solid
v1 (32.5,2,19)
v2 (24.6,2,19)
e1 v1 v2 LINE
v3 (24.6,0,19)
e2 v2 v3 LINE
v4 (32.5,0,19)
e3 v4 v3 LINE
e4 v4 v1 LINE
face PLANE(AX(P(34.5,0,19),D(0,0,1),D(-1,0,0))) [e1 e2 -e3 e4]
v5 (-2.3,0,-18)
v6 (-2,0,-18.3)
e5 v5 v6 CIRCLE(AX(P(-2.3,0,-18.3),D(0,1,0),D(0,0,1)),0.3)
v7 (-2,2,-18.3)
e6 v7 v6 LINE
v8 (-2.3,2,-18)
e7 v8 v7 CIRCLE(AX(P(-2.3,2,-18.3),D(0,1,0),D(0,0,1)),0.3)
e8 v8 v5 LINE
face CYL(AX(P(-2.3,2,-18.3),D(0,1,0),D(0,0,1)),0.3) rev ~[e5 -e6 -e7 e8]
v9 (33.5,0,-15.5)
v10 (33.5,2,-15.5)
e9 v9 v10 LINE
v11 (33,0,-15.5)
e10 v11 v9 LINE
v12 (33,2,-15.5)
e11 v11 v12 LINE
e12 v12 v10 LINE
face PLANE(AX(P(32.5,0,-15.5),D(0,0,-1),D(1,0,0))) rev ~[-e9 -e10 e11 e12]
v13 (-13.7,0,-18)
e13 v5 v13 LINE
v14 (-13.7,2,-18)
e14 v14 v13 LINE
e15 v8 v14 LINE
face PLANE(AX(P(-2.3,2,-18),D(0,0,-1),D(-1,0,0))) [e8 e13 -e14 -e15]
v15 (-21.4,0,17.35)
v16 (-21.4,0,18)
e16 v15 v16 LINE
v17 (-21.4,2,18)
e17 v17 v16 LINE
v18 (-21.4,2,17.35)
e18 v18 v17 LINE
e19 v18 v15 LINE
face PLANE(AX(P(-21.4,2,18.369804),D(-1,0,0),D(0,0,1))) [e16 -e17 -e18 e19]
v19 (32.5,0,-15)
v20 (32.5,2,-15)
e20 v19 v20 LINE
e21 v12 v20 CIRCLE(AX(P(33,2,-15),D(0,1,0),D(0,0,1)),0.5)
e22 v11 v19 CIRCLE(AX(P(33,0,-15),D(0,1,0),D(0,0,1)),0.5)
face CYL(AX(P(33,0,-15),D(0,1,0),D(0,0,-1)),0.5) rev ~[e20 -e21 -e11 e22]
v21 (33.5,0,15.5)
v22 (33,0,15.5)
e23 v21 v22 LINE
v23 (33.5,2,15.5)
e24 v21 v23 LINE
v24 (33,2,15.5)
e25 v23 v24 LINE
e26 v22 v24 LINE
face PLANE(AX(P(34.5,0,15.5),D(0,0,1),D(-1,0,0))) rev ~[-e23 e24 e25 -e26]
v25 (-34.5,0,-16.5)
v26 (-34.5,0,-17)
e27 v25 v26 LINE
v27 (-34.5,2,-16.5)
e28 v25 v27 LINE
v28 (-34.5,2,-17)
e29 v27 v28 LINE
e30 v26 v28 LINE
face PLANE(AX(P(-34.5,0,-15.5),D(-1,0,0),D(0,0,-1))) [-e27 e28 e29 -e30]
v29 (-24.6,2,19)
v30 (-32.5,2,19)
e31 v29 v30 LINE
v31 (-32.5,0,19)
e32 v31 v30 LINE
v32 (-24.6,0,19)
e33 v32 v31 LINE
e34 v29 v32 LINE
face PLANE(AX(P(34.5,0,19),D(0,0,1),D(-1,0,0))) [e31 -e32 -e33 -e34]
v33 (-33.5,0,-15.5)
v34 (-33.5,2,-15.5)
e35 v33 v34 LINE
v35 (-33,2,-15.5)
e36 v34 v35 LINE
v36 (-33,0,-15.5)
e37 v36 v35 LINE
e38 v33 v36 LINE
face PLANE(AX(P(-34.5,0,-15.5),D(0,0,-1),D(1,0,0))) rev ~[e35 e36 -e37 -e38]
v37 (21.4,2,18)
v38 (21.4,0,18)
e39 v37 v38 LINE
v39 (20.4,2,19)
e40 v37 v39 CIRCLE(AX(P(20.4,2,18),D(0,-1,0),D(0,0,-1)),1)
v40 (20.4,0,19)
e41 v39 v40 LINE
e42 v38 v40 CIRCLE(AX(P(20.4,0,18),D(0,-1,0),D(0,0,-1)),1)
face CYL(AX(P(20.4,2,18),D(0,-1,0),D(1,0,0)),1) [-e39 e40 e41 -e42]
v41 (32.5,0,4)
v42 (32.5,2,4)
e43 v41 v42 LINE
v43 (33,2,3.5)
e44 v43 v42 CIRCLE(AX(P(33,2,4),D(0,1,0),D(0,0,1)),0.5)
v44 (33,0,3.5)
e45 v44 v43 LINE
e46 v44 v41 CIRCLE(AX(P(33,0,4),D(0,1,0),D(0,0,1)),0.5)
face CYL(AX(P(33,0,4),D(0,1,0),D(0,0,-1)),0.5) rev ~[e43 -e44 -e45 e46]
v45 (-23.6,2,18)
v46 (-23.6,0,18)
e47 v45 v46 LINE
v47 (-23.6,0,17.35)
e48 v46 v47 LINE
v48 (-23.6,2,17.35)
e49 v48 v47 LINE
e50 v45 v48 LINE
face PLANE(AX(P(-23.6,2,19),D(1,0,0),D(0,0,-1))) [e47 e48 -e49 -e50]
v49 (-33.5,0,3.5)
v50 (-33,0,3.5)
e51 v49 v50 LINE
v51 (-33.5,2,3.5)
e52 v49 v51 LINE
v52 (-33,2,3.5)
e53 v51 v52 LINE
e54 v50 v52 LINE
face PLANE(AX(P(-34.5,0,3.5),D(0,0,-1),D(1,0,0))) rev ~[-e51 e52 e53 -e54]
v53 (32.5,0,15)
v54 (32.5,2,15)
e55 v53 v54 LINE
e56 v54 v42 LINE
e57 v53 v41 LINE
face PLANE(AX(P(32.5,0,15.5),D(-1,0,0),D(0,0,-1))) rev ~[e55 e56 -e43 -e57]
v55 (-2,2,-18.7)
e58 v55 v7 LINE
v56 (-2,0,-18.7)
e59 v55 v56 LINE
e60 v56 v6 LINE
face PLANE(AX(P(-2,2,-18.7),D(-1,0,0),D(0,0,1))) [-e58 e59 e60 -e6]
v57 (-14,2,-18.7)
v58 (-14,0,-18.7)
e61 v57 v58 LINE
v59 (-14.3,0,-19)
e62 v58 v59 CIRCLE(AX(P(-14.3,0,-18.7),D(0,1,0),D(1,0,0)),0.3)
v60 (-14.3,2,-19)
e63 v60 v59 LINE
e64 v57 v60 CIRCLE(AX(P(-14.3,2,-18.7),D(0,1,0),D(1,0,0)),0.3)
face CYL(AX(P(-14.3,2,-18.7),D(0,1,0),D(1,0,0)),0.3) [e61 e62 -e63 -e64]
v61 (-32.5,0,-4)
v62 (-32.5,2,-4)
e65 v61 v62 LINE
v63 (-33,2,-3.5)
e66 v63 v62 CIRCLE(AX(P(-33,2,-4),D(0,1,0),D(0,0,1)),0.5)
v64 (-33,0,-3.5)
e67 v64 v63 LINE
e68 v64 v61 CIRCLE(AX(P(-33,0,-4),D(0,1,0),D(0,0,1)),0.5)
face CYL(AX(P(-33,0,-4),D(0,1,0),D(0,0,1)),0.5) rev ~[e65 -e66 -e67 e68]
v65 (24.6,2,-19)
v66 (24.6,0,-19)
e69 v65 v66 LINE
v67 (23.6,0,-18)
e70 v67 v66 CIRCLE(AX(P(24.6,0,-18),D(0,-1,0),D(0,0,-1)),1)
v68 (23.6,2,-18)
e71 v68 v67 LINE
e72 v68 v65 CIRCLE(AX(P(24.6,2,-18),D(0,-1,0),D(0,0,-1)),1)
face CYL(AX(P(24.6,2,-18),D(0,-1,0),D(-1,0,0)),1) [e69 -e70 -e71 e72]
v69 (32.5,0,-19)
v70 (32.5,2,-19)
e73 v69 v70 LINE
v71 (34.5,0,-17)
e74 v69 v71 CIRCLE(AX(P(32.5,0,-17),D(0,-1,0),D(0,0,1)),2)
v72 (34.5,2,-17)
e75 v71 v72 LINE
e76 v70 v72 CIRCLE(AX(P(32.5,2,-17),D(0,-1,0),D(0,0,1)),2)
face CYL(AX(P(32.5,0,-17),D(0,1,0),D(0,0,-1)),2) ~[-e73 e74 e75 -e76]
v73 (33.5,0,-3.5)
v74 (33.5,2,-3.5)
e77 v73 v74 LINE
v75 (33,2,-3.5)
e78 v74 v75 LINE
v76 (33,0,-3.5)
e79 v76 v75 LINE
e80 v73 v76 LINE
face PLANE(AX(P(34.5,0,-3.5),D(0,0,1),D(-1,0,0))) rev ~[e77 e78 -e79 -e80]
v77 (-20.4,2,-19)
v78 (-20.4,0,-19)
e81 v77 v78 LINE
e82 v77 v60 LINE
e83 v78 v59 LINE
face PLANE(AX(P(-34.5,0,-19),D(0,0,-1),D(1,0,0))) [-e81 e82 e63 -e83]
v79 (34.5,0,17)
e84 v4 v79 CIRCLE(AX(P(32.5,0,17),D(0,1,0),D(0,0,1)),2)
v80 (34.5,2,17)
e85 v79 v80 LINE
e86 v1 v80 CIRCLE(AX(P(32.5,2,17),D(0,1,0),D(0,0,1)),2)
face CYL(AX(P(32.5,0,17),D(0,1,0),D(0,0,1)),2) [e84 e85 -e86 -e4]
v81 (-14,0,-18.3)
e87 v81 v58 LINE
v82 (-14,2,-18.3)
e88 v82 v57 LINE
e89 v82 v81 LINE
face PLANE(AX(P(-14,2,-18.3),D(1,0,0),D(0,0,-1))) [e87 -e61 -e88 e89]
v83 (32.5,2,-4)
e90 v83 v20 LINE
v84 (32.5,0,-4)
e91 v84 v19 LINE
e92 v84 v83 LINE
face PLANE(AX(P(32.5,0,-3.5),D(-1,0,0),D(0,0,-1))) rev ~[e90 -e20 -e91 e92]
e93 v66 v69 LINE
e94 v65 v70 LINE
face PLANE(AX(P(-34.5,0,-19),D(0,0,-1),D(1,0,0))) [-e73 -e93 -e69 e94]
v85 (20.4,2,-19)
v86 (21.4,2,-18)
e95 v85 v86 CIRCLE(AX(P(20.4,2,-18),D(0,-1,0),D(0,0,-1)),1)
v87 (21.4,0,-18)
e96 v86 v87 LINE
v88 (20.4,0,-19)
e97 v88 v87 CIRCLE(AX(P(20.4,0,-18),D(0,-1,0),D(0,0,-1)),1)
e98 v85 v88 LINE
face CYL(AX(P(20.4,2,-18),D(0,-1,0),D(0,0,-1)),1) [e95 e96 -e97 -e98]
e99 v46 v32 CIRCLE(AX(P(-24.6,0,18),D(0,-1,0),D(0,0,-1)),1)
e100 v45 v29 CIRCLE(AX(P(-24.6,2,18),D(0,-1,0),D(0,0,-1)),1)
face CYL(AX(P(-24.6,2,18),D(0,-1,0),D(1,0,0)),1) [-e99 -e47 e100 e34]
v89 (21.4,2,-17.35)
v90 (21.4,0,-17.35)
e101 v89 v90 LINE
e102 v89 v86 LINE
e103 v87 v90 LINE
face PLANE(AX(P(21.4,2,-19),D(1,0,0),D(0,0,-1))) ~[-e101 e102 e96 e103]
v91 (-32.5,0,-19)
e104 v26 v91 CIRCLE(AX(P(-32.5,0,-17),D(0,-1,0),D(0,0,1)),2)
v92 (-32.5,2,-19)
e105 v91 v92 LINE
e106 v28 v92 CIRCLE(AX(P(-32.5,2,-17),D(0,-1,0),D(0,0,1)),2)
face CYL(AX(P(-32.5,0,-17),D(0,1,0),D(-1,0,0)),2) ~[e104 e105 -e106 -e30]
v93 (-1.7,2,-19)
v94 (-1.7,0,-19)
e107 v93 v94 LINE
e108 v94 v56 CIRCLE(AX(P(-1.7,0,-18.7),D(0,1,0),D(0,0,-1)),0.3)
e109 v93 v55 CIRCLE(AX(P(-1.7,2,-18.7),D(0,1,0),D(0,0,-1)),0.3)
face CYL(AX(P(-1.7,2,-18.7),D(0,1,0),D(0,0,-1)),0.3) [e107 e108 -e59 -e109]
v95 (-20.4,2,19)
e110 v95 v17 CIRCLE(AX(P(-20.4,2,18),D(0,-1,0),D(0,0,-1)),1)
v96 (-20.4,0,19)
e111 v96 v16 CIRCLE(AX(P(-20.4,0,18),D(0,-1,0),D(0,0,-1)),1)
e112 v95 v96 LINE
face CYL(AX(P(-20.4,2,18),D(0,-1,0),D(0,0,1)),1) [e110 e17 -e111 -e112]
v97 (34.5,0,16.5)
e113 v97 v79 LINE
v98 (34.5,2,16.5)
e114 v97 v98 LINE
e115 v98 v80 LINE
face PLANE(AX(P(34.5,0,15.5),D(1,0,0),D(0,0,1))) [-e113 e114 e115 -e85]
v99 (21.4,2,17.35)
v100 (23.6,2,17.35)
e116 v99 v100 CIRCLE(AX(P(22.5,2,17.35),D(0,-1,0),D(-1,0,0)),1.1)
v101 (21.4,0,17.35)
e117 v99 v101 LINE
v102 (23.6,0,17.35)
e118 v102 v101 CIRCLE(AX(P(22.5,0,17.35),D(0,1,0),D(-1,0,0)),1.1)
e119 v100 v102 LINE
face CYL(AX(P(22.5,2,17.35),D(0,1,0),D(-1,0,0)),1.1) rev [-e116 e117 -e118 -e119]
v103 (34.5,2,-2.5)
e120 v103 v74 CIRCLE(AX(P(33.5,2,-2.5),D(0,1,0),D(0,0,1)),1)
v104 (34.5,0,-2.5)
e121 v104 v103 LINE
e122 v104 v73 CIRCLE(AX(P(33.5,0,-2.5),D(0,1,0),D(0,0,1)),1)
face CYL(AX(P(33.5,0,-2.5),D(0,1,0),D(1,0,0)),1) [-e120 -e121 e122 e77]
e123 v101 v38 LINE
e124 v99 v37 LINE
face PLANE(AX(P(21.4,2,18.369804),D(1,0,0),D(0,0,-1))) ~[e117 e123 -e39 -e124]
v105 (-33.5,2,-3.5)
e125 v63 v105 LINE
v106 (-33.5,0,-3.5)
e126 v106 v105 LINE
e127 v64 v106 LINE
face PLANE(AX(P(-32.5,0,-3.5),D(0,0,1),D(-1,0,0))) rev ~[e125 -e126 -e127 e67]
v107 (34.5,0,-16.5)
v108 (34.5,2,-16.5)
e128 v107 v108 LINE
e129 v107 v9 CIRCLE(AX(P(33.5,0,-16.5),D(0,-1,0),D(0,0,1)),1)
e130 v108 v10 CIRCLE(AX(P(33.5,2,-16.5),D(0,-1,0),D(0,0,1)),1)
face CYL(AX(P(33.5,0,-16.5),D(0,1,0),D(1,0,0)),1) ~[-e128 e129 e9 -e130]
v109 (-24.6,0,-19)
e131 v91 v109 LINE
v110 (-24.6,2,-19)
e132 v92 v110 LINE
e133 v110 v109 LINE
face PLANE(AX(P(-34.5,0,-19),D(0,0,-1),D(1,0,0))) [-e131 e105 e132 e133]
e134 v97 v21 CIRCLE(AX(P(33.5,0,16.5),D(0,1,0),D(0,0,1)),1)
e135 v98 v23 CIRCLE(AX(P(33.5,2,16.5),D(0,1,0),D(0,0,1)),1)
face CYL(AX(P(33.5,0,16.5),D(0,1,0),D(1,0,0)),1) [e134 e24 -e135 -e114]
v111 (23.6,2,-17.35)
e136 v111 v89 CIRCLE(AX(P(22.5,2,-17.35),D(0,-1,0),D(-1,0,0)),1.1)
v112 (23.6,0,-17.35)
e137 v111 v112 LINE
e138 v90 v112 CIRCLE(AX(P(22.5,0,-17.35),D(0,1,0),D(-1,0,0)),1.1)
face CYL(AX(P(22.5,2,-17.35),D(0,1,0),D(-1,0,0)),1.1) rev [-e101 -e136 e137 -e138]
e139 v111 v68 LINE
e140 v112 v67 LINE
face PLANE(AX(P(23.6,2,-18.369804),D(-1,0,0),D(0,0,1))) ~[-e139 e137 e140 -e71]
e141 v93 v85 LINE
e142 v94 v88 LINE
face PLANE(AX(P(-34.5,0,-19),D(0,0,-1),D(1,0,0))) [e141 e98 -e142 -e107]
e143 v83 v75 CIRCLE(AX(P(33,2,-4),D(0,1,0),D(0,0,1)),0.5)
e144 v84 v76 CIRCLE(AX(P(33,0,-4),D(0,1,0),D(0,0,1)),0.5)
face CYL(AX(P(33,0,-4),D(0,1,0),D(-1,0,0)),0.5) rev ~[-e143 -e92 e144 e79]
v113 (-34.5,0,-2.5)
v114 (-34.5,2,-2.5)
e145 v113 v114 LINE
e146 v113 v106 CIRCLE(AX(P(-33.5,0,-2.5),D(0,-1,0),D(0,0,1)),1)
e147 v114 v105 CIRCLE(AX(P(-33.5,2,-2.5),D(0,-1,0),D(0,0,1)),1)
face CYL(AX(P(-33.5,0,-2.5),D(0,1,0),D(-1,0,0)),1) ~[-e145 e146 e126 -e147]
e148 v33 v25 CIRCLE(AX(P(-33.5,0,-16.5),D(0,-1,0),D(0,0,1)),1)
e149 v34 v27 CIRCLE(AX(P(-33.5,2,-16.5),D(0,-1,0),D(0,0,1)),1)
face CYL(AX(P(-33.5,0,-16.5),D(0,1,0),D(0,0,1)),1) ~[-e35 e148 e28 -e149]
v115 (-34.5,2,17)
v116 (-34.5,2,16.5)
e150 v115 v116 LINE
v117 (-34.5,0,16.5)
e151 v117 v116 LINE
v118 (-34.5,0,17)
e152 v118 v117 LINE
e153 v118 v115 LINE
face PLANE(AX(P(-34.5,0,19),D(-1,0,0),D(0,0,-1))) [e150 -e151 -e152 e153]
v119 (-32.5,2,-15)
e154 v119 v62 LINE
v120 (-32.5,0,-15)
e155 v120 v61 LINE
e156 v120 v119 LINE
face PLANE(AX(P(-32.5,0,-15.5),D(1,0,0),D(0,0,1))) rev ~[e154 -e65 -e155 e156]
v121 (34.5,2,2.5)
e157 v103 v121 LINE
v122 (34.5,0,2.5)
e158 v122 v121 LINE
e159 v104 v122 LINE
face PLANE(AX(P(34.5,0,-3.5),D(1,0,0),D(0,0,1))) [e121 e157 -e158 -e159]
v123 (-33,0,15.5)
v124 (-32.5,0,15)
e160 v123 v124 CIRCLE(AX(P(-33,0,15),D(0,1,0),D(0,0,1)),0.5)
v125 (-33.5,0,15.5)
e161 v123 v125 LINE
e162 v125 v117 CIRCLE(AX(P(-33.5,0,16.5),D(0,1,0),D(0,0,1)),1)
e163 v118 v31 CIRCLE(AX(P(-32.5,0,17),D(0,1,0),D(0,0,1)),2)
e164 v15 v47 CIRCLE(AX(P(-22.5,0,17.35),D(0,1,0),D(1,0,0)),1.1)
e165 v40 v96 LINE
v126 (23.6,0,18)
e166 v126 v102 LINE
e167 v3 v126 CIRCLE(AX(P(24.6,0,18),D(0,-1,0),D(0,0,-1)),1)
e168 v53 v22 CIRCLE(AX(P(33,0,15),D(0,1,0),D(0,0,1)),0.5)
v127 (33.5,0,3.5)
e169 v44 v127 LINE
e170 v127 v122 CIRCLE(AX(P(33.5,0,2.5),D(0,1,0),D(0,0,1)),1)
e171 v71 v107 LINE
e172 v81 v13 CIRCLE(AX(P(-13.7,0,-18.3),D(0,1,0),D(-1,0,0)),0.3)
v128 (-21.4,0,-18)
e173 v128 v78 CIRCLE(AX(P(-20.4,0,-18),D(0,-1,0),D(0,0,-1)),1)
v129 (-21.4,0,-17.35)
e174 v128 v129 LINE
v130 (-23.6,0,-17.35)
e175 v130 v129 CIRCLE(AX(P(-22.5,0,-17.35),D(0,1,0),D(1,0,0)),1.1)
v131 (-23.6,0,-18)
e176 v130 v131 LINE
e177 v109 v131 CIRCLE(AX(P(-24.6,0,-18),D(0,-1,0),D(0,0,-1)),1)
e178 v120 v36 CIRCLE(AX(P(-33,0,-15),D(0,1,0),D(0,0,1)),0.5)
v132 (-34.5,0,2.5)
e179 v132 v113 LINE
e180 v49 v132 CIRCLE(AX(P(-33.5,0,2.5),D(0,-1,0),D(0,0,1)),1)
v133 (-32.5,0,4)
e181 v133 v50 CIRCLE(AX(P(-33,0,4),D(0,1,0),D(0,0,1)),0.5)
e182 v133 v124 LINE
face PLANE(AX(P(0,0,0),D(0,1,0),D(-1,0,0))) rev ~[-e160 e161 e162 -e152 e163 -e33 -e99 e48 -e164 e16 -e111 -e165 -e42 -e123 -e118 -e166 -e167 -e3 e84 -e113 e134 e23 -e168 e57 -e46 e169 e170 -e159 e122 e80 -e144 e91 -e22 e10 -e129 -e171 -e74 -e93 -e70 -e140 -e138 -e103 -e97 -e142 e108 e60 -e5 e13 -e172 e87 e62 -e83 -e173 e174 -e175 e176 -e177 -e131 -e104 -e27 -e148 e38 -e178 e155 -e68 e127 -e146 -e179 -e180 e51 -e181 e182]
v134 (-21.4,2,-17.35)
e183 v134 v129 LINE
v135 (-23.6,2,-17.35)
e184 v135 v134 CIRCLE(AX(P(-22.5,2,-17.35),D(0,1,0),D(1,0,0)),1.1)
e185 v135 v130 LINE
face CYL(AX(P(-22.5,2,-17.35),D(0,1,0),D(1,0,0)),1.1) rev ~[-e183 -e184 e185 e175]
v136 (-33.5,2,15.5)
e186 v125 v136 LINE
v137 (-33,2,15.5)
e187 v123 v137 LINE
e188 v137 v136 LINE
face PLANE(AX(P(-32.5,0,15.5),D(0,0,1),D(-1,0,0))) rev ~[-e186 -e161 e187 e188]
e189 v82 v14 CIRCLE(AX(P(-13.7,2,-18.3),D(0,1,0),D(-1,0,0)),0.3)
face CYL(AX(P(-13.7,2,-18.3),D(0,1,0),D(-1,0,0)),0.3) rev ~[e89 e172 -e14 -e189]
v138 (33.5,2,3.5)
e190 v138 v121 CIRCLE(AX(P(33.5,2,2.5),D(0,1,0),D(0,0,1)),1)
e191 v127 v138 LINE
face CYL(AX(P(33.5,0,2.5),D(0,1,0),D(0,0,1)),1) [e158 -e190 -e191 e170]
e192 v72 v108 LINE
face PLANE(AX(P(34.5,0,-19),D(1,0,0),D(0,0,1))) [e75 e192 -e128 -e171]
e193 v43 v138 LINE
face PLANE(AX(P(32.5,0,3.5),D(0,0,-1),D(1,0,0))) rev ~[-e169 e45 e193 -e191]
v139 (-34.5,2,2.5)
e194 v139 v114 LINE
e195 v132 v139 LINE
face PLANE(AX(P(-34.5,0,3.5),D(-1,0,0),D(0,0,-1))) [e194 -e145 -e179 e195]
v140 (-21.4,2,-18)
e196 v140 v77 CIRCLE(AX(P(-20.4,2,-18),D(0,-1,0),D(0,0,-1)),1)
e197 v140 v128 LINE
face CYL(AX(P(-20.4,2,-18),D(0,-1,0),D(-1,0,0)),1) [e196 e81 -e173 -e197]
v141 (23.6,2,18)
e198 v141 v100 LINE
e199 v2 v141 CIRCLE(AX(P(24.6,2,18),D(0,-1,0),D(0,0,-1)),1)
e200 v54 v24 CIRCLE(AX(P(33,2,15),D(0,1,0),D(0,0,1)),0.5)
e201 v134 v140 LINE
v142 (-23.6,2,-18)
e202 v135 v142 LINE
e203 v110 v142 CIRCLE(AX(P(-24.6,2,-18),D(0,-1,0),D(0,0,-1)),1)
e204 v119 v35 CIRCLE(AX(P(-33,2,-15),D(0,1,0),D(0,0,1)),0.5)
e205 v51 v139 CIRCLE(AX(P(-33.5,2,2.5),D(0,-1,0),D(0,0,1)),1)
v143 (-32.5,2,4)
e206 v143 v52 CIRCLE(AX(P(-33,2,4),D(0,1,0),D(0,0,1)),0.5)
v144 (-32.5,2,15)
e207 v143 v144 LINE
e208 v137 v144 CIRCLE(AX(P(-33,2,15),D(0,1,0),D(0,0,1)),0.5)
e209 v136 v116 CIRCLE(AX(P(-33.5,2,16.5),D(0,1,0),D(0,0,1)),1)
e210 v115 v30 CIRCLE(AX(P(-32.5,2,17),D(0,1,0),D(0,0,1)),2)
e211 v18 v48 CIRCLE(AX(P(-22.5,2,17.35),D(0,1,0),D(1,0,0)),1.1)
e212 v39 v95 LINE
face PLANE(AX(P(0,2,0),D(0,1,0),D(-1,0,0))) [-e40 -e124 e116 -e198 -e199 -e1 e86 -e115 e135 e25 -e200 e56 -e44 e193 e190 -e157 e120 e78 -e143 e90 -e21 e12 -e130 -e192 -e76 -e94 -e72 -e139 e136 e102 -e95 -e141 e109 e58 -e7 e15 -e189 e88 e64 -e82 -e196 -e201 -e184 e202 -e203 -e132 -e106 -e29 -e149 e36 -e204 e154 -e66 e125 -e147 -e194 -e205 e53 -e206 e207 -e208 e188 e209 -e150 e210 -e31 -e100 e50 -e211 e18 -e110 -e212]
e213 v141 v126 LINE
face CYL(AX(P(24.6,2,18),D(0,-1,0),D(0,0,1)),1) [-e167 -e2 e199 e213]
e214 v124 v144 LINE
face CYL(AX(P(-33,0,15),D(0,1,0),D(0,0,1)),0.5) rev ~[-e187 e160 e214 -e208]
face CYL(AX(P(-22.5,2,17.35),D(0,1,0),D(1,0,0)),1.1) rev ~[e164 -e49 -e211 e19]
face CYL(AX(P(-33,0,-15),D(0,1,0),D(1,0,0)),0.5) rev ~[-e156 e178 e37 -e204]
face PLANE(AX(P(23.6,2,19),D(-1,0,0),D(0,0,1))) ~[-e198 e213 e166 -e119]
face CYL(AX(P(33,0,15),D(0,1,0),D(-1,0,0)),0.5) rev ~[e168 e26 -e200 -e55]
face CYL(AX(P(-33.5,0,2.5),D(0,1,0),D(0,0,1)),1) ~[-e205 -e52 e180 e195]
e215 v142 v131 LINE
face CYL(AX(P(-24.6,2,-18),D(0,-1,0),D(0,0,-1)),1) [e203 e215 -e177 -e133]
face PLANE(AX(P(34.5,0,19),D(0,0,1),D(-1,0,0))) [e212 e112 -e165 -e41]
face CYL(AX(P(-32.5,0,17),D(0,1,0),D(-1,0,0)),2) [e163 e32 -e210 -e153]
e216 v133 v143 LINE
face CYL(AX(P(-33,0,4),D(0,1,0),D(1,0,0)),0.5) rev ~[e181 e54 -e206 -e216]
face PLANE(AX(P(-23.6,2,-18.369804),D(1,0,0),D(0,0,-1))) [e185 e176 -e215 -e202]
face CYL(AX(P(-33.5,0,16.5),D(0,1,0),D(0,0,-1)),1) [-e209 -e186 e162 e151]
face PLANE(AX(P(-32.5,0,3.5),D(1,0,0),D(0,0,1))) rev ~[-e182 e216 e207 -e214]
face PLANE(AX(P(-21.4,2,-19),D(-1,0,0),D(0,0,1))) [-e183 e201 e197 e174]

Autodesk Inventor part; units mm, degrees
ref_plane "YZ Plane" through (0, 0, 0) normal (1, 0, 0) x (0, 1, 0)
ref_plane "XZ Plane" through (0, 0, 0) normal (0, 1, 0) x (-1, 0, 0)
ref_plane "XY Plane" through (0, 0, 0) normal (0, 0, 1) x (1, 0, 0)
sketch "Эскиз1" plane through (0, 0, 0) normal (0, 1, 0) x (-1, 0, 0)
  line L0 (-34.5, 19) -> (34.5, 19)
  line L1 (34.5, 19) -> (34.5, -19)
  line L2 (34.5, -19) -> (-34.5, -19)
  line L3 (-34.5, -19) -> (-34.5, 19)
  line L4 (-34.5, 19) -> (34.5, -19) construction
  line L5 (34.5, 19) -> (-34.5, -19) construction
  line L6 (34.5, -9.5) -> (34.5, 9.5)
  line L7 (36.5, -15.5) -> (32.5, -15.5)
  line L8 (32.5, -15.5) -> (32.5, -3.5)
  line L9 (32.5, -3.5) -> (36.5, -3.5)
  line L10 (36.5, -3.5) -> (36.5, -15.5)
  line L11 (36.5, -15.5) -> (32.5, -3.5) construction
  line L12 (32.5, -15.5) -> (36.5, -3.5) construction
  line L13 (36.5, 3.5) -> (32.5, 3.5)
  line L14 (32.5, 3.5) -> (32.5, 15.5)
  line L15 (32.5, 15.5) -> (36.5, 15.5)
  line L16 (36.5, 15.5) -> (36.5, 3.5)
  line L17 (36.5, 3.5) -> (32.5, 15.5) construction
  line L18 (32.5, 3.5) -> (36.5, 15.5) construction
  line L19 (-34.5, -9.5) -> (-34.5, 9.5)
  line L20 (-32.5, -15.5) -> (-36.5, -15.5)
  line L21 (-36.5, -15.5) -> (-36.5, -3.5)
  line L22 (-36.5, -3.5) -> (-32.5, -3.5)
  line L23 (-32.5, -3.5) -> (-32.5, -15.5)
  line L24 (-32.5, -15.5) -> (-36.5, -3.5) construction
  line L25 (-36.5, -15.5) -> (-32.5, -3.5) construction
  line L26 (-32.5, 3.5) -> (-36.5, 3.5)
  line L27 (-36.5, 3.5) -> (-36.5, 15.5)
  line L28 (-36.5, 15.5) -> (-32.5, 15.5)
  line L29 (-32.5, 15.5) -> (-32.5, 3.5)
  line L30 (-32.5, 3.5) -> (-36.5, 15.5) construction
  line L31 (-36.5, 3.5) -> (-32.5, 15.5) construction
  point P0 (0, 0)
  point P1 (34.5, 0)
  point P2 (-34.5, 0)
  point P3 (-34.5, 15.5)
  point P4 (-34.5, 3.5)
  point P5 (-34.5, -3.5)
  point P6 (-34.5, -15.5)
  point P7 (34.5, -15.5)
  point P8 (34.5, -3.5)
  point P9 (34.5, 3.5)
  point P10 (34.5, 15.5)
  dimension "d0" = 69
  dimension "d1" = 38
  dimension "d4" = 19
  dimension "d5" = 4
  dimension "d6" = 12
  dimension "d7" = 4
  dimension "d8" = 12
  dimension "d9" = 19
  dimension "d10" = 4
  dimension "d11" = 12
  dimension "d12" = 4
  dimension "d13" = 12
extrude "Выдавливание1" add sketch "Эскиз1" along normal blind 2 contours L0 L1 L15 L14 L13 L9 L8 L7 L2 L3 L20 L23 L22 L26 L29 L28
fillet "Сопряжение1" radius 0.5 8 edges at (-32.5, 1, -3.5) (-32.5, 1, -15.5) (-32.5, 1, 3.5) (-32.5, 1, 15.5) (32.5, 1, -15.5) (32.5, 1, -3.5) (32.5, 1, 3.5) (32.5, 1, 15.5)
fillet "Сопряжение2" radius 1 8 edges at (34.5, 1, -3.5) (34.5, 1, 3.5) (34.5, 1, -15.5) (34.5, 1, 15.5) (-34.5, 1, -15.5) (-34.5, 1, -3.5) (-34.5, 1, 3.5) (-34.5, 1, 15.5)
fillet "Сопряжение3" radius 2 4 edges at (-34.5, 1, -19) (-34.5, 1, 19) (34.5, 1, -19) (34.5, 1, 19)
sketch "Эскиз2" plane through (0, 2, 0) normal (0, 1, 0) x (1, 0, 0)
  line L0 (-34.5, -19) -> (34.5, -19)
  line L1 (34.5, -19) -> (34.5, 19)
  line L2 (34.5, 19) -> (-34.5, 19)
  line L3 (-34.5, 19) -> (-34.5, -19)
  line L4 (-34.5, -19) -> (34.5, 19) construction
  line L5 (34.5, -19) -> (-34.5, 19) construction
  line L6 (34.5, -2.5) -> (34.5, 2.5) projected
  line L7 (34.5, 0) -> (19.5, 0)
  line L8 (19.5, 5) -> (19.5, -5)
  line L9 (34.5, -19) -> (4.5, -19)
  line L10 (-32.5, -19) -> (32.5, -19) projected
  line L11 (4.5, -19) -> (4.5, -14)
  point P0 (0, 0)
  dimension "d17" = 69
  dimension "d18" = 38
  dimension "d19" = 15
  dimension "d20" = 10
  dimension "d21" = 30
  dimension "d22" = 5
sketch "Эскиз3" plane through (0, 2, 0) normal (0, 1, 0) x (1, 0, 0)
  arc A0 (32.5, -19) -> (34.5, -17) centre (32.5, -17) ccw projected
  line L0 (34.5, -17) -> (34.5, -16.5) projected
  arc A1 (34.5, -16.5) -> (33.5, -15.5) centre (33.5, -16.5) ccw projected
  line L1 (33.5, -15.5) -> (33, -15.5) projected
  arc A2 (32.5, -15) -> (33, -15.5) centre (33, -15) ccw projected
  line L2 (32.5, -15) -> (32.5, -4) projected
  arc A3 (33, -3.5) -> (32.5, -4) centre (33, -4) ccw projected
  line L3 (33, -3.5) -> (33.5, -3.5) projected
  arc A4 (33.5, -3.5) -> (34.5, -2.5) centre (33.5, -2.5) ccw projected
  line L4 (34.5, -2.5) -> (34.5, 2.5) projected
  arc A5 (34.5, 2.5) -> (33.5, 3.5) centre (33.5, 2.5) ccw projected
  line L5 (33.5, 3.5) -> (33, 3.5) projected
  arc A6 (32.5, 4) -> (33, 3.5) centre (33, 4) ccw projected
  line L6 (32.5, 4) -> (32.5, 15) projected
  arc A7 (33, 15.5) -> (32.5, 15) centre (33, 15) ccw projected
  line L7 (33, 15.5) -> (33.5, 15.5) projected
  arc A8 (33.5, 15.5) -> (34.5, 16.5) centre (33.5, 16.5) ccw projected
  line L8 (34.5, 16.5) -> (34.5, 17) projected
  arc A9 (34.5, 17) -> (32.5, 19) centre (32.5, 17) ccw projected
  line L9 (32.5, 19) -> (-32.5, 19) projected
  arc A10 (-32.5, 19) -> (-34.5, 17) centre (-32.5, 17) ccw projected
  line L10 (-34.5, 17) -> (-34.5, 16.5) projected
  arc A11 (-34.5, 16.5) -> (-33.5, 15.5) centre (-33.5, 16.5) ccw projected
  line L11 (-33.5, 15.5) -> (-33, 15.5) projected
  arc A12 (-32.5, 15) -> (-33, 15.5) centre (-33, 15) ccw projected
  line L12 (-32.5, 15) -> (-32.5, 4) projected
  arc A13 (-33, 3.5) -> (-32.5, 4) centre (-33, 4) ccw projected
  line L13 (-33, 3.5) -> (-33.5, 3.5) projected
  arc A14 (-33.5, 3.5) -> (-34.5, 2.5) centre (-33.5, 2.5) ccw projected
  line L14 (-34.5, 2.5) -> (-34.5, -2.5) projected
  arc A15 (-34.5, -2.5) -> (-33.5, -3.5) centre (-33.5, -2.5) ccw projected
  line L15 (-33.5, -3.5) -> (-33, -3.5) projected
  arc A16 (-32.5, -4) -> (-33, -3.5) centre (-33, -4) ccw projected
  line L16 (-32.5, -4) -> (-32.5, -15) projected
  arc A17 (-33, -15.5) -> (-32.5, -15) centre (-33, -15) ccw projected
  line L17 (-33, -15.5) -> (-33.5, -15.5) projected
  arc A18 (-33.5, -15.5) -> (-34.5, -16.5) centre (-33.5, -16.5) ccw projected
  line L18 (-34.5, -16.5) -> (-34.5, -17) projected
  arc A19 (-34.5, -17) -> (-32.5, -19) centre (-32.5, -17) ccw projected
  line L19 (-32.5, -19) -> (32.5, -19) projected
  circle A20 centre (-22.5, 17.35) radius 1.5 projected
  circle A21 centre (-22.5, -17.35) radius 1.5 projected
  circle A22 centre (-22.5, -17.35) radius 1.1
  circle A23 centre (-22.5, 17.35) radius 1.1
  line L20 (32.5, 19) -> (-32.5, 19) projected
  line L21 (-32.5, -19) -> (32.5, -19) projected
  line L22 (-23.6, 19) -> (-21.4, 19)
  line L23 (-21.4, 19) -> (-21.4, -19)
  line L24 (-21.4, -19) -> (-23.6, -19)
  line L25 (-23.6, -19) -> (-23.6, 19)
  point P0 (0, 0)
  point P1 (-23.6, 16.3302)
  point P2 (-21.4, 16.3302)
  point P3 (-21.4, -19)
  point P4 (-21.4, -16.3302)
  point P5 (-23.6, -16.3302)
  point P6 (-23.6, -17.35)
  point P7 (-21.4, -17.35)
  point P8 (-23.6, 17.35)
  point P9 (-21.4, 17.35)
  dimension "d23" = 2.2
  dimension "d24" = 2.2
extrude "Выдавливание2" cut sketch "Эскиз3" against normal blind 10 contours L19 L25 A21 L23 | A21 L25 A22 L23 | A22 | L25 L9 L23 A20 | A20 L23 A23 L25 | A23 picked at (-22.5442, -18.7071) picked at (-22.5442, 18.7071)
fillet "Сопряжение4" radius 1 4 edges at (-23.6, 1, 19) (-21.4, 1, 19) (-23.6, 1, -19) (-21.4, 1, -19)
mirror "Зеркальное отражение1" about plane through (0, 0, 0) normal (1, 0, 0) of "Выдавливание2", "Сопряжение4"
sketch "Эскиз4" plane through (0, 2, 0) normal (0, 1, 0) x (1, 0, 0)
  arc A0 (-14, 18.7) -> (-14.3, 19) centre (-14.3, 18.7) ccw projected
  line L0 (-14.3, 19) -> (-26, 19) projected
  arc A1 (-26, 19) -> (-28, 17) centre (-26, 17) ccw projected
  line L1 (-28, 17) -> (-28, -17) projected
  arc A2 (-28, -17) -> (-26, -19) centre (-26, -17) ccw projected
  line L2 (-26, -19) -> (8, -19) projected
  arc A3 (8, -19) -> (10, -17) centre (8, -17) ccw projected
  line L3 (10, -17) -> (10, 17) projected
  arc A4 (10, 17) -> (8, 19) centre (8, 17) ccw projected
  line L4 (8, 19) -> (-1.7, 19) projected
  arc A5 (-1.7, 19) -> (-2, 18.7) centre (-1.7, 18.7) ccw projected
  line L5 (-2, 18.7) -> (-2, 18.3) projected
  arc A6 (-2.3, 18) -> (-2, 18.3) centre (-2.3, 18.3) ccw projected
  line L6 (-2.3, 18) -> (-13.7, 18) projected
  arc A7 (-14, 18.3) -> (-13.7, 18) centre (-13.7, 18.3) ccw projected
  line L7 (-14, 18.3) -> (-14, 18.7) projected
  arc A8 (21.4, 18) -> (20.4, 19) centre (20.4, 18) ccw projected
  line L8 (20.4, 19) -> (-20.4, 19) projected
  arc A9 (-20.4, 19) -> (-21.4, 18) centre (-20.4, 18) ccw projected
  line L9 (-21.4, 18) -> (-21.4, 17.35) projected
  arc A10 (-23.6, 17.35) -> (-21.4, 17.35) centre (-22.5, 17.35) ccw projected
  line L10 (-23.6, 17.35) -> (-23.6, 18) projected
  arc A11 (-23.6, 18) -> (-24.6, 19) centre (-24.6, 18) ccw projected
  line L11 (-24.6, 19) -> (-32.5, 19) projected
  arc A12 (-32.5, 19) -> (-34.5, 17) centre (-32.5, 17) ccw projected
  line L12 (-34.5, 17) -> (-34.5, 16.5) projected
  arc A13 (-34.5, 16.5) -> (-33.5, 15.5) centre (-33.5, 16.5) ccw projected
  line L13 (-33.5, 15.5) -> (-33, 15.5) projected
  arc A14 (-32.5, 15) -> (-33, 15.5) centre (-33, 15) ccw projected
  line L14 (-32.5, 15) -> (-32.5, 4) projected
  arc A15 (-33, 3.5) -> (-32.5, 4) centre (-33, 4) ccw projected
  line L15 (-33, 3.5) -> (-33.5, 3.5) projected
  arc A16 (-33.5, 3.5) -> (-34.5, 2.5) centre (-33.5, 2.5) ccw projected
  line L16 (-34.5, 2.5) -> (-34.5, -2.5) projected
  arc A17 (-34.5, -2.5) -> (-33.5, -3.5) centre (-33.5, -2.5) ccw projected
  line L17 (-33.5, -3.5) -> (-33, -3.5) projected
  arc A18 (-32.5, -4) -> (-33, -3.5) centre (-33, -4) ccw projected
  line L18 (-32.5, -4) -> (-32.5, -15) projected
  arc A19 (-33, -15.5) -> (-32.5, -15) centre (-33, -15) ccw projected
  line L19 (-33, -15.5) -> (-33.5, -15.5) projected
  arc A20 (-33.5, -15.5) -> (-34.5, -16.5) centre (-33.5, -16.5) ccw projected
  line L20 (-34.5, -16.5) -> (-34.5, -17) projected
  arc A21 (-34.5, -17) -> (-32.5, -19) centre (-32.5, -17) ccw projected
  line L21 (-32.5, -19) -> (-24.6, -19) projected
  arc A22 (-24.6, -19) -> (-23.6, -18) centre (-24.6, -18) ccw projected
  line L22 (-23.6, -18) -> (-23.6, -17.35) projected
  arc A23 (-21.4, -17.35) -> (-23.6, -17.35) centre (-22.5, -17.35) ccw projected
  line L23 (-21.4, -17.35) -> (-21.4, -18) projected
  arc A24 (-21.4, -18) -> (-20.4, -19) centre (-20.4, -18) ccw projected
  line L24 (-20.4, -19) -> (20.4, -19) projected
  arc A25 (20.4, -19) -> (21.4, -18) centre (20.4, -18) ccw projected
  line L25 (21.4, -18) -> (21.4, -17.35) projected
  arc A26 (23.6, -17.35) -> (21.4, -17.35) centre (22.5, -17.35) ccw projected
  line L26 (23.6, -17.35) -> (23.6, -18) projected
  arc A27 (23.6, -18) -> (24.6, -19) centre (24.6, -18) ccw projected
  line L27 (24.6, -19) -> (32.5, -19) projected
  arc A28 (32.5, -19) -> (34.5, -17) centre (32.5, -17) ccw projected
  line L28 (34.5, -17) -> (34.5, -16.5) projected
  arc A29 (34.5, -16.5) -> (33.5, -15.5) centre (33.5, -16.5) ccw projected
  line L29 (33.5, -15.5) -> (33, -15.5) projected
  arc A30 (32.5, -15) -> (33, -15.5) centre (33, -15) ccw projected
  line L30 (32.5, -15) -> (32.5, -4) projected
  arc A31 (33, -3.5) -> (32.5, -4) centre (33, -4) ccw projected
  line L31 (33, -3.5) -> (33.5, -3.5) projected
  arc A32 (33.5, -3.5) -> (34.5, -2.5) centre (33.5, -2.5) ccw projected
  line L32 (34.5, -2.5) -> (34.5, 2.5) projected
  arc A33 (34.5, 2.5) -> (33.5, 3.5) centre (33.5, 2.5) ccw projected
  line L33 (33.5, 3.5) -> (33, 3.5) projected
  arc A34 (32.5, 4) -> (33, 3.5) centre (33, 4) ccw projected
  line L34 (32.5, 4) -> (32.5, 15) projected
  arc A35 (33, 15.5) -> (32.5, 15) centre (33, 15) ccw projected
  line L35 (33, 15.5) -> (33.5, 15.5) projected
  arc A36 (33.5, 15.5) -> (34.5, 16.5) centre (33.5, 16.5) ccw projected
  line L36 (34.5, 16.5) -> (34.5, 17) projected
  arc A37 (34.5, 17) -> (32.5, 19) centre (32.5, 17) ccw projected
  line L37 (32.5, 19) -> (24.6, 19) projected
  arc A38 (24.6, 19) -> (23.6, 18) centre (24.6, 18) ccw projected
  line L38 (23.6, 18) -> (23.6, 17.35) projected
  arc A39 (21.4, 17.35) -> (23.6, 17.35) centre (22.5, 17.35) ccw projected
  line L39 (21.4, 17.35) -> (21.4, 18) projected
  point P0 (0, 0)
extrude "Выдавливание3" cut sketch "Эскиз4" against normal blind 10 contours A0 L8 A5 L5 A6 L6 A7 L7
properties part number "BMS_board"
